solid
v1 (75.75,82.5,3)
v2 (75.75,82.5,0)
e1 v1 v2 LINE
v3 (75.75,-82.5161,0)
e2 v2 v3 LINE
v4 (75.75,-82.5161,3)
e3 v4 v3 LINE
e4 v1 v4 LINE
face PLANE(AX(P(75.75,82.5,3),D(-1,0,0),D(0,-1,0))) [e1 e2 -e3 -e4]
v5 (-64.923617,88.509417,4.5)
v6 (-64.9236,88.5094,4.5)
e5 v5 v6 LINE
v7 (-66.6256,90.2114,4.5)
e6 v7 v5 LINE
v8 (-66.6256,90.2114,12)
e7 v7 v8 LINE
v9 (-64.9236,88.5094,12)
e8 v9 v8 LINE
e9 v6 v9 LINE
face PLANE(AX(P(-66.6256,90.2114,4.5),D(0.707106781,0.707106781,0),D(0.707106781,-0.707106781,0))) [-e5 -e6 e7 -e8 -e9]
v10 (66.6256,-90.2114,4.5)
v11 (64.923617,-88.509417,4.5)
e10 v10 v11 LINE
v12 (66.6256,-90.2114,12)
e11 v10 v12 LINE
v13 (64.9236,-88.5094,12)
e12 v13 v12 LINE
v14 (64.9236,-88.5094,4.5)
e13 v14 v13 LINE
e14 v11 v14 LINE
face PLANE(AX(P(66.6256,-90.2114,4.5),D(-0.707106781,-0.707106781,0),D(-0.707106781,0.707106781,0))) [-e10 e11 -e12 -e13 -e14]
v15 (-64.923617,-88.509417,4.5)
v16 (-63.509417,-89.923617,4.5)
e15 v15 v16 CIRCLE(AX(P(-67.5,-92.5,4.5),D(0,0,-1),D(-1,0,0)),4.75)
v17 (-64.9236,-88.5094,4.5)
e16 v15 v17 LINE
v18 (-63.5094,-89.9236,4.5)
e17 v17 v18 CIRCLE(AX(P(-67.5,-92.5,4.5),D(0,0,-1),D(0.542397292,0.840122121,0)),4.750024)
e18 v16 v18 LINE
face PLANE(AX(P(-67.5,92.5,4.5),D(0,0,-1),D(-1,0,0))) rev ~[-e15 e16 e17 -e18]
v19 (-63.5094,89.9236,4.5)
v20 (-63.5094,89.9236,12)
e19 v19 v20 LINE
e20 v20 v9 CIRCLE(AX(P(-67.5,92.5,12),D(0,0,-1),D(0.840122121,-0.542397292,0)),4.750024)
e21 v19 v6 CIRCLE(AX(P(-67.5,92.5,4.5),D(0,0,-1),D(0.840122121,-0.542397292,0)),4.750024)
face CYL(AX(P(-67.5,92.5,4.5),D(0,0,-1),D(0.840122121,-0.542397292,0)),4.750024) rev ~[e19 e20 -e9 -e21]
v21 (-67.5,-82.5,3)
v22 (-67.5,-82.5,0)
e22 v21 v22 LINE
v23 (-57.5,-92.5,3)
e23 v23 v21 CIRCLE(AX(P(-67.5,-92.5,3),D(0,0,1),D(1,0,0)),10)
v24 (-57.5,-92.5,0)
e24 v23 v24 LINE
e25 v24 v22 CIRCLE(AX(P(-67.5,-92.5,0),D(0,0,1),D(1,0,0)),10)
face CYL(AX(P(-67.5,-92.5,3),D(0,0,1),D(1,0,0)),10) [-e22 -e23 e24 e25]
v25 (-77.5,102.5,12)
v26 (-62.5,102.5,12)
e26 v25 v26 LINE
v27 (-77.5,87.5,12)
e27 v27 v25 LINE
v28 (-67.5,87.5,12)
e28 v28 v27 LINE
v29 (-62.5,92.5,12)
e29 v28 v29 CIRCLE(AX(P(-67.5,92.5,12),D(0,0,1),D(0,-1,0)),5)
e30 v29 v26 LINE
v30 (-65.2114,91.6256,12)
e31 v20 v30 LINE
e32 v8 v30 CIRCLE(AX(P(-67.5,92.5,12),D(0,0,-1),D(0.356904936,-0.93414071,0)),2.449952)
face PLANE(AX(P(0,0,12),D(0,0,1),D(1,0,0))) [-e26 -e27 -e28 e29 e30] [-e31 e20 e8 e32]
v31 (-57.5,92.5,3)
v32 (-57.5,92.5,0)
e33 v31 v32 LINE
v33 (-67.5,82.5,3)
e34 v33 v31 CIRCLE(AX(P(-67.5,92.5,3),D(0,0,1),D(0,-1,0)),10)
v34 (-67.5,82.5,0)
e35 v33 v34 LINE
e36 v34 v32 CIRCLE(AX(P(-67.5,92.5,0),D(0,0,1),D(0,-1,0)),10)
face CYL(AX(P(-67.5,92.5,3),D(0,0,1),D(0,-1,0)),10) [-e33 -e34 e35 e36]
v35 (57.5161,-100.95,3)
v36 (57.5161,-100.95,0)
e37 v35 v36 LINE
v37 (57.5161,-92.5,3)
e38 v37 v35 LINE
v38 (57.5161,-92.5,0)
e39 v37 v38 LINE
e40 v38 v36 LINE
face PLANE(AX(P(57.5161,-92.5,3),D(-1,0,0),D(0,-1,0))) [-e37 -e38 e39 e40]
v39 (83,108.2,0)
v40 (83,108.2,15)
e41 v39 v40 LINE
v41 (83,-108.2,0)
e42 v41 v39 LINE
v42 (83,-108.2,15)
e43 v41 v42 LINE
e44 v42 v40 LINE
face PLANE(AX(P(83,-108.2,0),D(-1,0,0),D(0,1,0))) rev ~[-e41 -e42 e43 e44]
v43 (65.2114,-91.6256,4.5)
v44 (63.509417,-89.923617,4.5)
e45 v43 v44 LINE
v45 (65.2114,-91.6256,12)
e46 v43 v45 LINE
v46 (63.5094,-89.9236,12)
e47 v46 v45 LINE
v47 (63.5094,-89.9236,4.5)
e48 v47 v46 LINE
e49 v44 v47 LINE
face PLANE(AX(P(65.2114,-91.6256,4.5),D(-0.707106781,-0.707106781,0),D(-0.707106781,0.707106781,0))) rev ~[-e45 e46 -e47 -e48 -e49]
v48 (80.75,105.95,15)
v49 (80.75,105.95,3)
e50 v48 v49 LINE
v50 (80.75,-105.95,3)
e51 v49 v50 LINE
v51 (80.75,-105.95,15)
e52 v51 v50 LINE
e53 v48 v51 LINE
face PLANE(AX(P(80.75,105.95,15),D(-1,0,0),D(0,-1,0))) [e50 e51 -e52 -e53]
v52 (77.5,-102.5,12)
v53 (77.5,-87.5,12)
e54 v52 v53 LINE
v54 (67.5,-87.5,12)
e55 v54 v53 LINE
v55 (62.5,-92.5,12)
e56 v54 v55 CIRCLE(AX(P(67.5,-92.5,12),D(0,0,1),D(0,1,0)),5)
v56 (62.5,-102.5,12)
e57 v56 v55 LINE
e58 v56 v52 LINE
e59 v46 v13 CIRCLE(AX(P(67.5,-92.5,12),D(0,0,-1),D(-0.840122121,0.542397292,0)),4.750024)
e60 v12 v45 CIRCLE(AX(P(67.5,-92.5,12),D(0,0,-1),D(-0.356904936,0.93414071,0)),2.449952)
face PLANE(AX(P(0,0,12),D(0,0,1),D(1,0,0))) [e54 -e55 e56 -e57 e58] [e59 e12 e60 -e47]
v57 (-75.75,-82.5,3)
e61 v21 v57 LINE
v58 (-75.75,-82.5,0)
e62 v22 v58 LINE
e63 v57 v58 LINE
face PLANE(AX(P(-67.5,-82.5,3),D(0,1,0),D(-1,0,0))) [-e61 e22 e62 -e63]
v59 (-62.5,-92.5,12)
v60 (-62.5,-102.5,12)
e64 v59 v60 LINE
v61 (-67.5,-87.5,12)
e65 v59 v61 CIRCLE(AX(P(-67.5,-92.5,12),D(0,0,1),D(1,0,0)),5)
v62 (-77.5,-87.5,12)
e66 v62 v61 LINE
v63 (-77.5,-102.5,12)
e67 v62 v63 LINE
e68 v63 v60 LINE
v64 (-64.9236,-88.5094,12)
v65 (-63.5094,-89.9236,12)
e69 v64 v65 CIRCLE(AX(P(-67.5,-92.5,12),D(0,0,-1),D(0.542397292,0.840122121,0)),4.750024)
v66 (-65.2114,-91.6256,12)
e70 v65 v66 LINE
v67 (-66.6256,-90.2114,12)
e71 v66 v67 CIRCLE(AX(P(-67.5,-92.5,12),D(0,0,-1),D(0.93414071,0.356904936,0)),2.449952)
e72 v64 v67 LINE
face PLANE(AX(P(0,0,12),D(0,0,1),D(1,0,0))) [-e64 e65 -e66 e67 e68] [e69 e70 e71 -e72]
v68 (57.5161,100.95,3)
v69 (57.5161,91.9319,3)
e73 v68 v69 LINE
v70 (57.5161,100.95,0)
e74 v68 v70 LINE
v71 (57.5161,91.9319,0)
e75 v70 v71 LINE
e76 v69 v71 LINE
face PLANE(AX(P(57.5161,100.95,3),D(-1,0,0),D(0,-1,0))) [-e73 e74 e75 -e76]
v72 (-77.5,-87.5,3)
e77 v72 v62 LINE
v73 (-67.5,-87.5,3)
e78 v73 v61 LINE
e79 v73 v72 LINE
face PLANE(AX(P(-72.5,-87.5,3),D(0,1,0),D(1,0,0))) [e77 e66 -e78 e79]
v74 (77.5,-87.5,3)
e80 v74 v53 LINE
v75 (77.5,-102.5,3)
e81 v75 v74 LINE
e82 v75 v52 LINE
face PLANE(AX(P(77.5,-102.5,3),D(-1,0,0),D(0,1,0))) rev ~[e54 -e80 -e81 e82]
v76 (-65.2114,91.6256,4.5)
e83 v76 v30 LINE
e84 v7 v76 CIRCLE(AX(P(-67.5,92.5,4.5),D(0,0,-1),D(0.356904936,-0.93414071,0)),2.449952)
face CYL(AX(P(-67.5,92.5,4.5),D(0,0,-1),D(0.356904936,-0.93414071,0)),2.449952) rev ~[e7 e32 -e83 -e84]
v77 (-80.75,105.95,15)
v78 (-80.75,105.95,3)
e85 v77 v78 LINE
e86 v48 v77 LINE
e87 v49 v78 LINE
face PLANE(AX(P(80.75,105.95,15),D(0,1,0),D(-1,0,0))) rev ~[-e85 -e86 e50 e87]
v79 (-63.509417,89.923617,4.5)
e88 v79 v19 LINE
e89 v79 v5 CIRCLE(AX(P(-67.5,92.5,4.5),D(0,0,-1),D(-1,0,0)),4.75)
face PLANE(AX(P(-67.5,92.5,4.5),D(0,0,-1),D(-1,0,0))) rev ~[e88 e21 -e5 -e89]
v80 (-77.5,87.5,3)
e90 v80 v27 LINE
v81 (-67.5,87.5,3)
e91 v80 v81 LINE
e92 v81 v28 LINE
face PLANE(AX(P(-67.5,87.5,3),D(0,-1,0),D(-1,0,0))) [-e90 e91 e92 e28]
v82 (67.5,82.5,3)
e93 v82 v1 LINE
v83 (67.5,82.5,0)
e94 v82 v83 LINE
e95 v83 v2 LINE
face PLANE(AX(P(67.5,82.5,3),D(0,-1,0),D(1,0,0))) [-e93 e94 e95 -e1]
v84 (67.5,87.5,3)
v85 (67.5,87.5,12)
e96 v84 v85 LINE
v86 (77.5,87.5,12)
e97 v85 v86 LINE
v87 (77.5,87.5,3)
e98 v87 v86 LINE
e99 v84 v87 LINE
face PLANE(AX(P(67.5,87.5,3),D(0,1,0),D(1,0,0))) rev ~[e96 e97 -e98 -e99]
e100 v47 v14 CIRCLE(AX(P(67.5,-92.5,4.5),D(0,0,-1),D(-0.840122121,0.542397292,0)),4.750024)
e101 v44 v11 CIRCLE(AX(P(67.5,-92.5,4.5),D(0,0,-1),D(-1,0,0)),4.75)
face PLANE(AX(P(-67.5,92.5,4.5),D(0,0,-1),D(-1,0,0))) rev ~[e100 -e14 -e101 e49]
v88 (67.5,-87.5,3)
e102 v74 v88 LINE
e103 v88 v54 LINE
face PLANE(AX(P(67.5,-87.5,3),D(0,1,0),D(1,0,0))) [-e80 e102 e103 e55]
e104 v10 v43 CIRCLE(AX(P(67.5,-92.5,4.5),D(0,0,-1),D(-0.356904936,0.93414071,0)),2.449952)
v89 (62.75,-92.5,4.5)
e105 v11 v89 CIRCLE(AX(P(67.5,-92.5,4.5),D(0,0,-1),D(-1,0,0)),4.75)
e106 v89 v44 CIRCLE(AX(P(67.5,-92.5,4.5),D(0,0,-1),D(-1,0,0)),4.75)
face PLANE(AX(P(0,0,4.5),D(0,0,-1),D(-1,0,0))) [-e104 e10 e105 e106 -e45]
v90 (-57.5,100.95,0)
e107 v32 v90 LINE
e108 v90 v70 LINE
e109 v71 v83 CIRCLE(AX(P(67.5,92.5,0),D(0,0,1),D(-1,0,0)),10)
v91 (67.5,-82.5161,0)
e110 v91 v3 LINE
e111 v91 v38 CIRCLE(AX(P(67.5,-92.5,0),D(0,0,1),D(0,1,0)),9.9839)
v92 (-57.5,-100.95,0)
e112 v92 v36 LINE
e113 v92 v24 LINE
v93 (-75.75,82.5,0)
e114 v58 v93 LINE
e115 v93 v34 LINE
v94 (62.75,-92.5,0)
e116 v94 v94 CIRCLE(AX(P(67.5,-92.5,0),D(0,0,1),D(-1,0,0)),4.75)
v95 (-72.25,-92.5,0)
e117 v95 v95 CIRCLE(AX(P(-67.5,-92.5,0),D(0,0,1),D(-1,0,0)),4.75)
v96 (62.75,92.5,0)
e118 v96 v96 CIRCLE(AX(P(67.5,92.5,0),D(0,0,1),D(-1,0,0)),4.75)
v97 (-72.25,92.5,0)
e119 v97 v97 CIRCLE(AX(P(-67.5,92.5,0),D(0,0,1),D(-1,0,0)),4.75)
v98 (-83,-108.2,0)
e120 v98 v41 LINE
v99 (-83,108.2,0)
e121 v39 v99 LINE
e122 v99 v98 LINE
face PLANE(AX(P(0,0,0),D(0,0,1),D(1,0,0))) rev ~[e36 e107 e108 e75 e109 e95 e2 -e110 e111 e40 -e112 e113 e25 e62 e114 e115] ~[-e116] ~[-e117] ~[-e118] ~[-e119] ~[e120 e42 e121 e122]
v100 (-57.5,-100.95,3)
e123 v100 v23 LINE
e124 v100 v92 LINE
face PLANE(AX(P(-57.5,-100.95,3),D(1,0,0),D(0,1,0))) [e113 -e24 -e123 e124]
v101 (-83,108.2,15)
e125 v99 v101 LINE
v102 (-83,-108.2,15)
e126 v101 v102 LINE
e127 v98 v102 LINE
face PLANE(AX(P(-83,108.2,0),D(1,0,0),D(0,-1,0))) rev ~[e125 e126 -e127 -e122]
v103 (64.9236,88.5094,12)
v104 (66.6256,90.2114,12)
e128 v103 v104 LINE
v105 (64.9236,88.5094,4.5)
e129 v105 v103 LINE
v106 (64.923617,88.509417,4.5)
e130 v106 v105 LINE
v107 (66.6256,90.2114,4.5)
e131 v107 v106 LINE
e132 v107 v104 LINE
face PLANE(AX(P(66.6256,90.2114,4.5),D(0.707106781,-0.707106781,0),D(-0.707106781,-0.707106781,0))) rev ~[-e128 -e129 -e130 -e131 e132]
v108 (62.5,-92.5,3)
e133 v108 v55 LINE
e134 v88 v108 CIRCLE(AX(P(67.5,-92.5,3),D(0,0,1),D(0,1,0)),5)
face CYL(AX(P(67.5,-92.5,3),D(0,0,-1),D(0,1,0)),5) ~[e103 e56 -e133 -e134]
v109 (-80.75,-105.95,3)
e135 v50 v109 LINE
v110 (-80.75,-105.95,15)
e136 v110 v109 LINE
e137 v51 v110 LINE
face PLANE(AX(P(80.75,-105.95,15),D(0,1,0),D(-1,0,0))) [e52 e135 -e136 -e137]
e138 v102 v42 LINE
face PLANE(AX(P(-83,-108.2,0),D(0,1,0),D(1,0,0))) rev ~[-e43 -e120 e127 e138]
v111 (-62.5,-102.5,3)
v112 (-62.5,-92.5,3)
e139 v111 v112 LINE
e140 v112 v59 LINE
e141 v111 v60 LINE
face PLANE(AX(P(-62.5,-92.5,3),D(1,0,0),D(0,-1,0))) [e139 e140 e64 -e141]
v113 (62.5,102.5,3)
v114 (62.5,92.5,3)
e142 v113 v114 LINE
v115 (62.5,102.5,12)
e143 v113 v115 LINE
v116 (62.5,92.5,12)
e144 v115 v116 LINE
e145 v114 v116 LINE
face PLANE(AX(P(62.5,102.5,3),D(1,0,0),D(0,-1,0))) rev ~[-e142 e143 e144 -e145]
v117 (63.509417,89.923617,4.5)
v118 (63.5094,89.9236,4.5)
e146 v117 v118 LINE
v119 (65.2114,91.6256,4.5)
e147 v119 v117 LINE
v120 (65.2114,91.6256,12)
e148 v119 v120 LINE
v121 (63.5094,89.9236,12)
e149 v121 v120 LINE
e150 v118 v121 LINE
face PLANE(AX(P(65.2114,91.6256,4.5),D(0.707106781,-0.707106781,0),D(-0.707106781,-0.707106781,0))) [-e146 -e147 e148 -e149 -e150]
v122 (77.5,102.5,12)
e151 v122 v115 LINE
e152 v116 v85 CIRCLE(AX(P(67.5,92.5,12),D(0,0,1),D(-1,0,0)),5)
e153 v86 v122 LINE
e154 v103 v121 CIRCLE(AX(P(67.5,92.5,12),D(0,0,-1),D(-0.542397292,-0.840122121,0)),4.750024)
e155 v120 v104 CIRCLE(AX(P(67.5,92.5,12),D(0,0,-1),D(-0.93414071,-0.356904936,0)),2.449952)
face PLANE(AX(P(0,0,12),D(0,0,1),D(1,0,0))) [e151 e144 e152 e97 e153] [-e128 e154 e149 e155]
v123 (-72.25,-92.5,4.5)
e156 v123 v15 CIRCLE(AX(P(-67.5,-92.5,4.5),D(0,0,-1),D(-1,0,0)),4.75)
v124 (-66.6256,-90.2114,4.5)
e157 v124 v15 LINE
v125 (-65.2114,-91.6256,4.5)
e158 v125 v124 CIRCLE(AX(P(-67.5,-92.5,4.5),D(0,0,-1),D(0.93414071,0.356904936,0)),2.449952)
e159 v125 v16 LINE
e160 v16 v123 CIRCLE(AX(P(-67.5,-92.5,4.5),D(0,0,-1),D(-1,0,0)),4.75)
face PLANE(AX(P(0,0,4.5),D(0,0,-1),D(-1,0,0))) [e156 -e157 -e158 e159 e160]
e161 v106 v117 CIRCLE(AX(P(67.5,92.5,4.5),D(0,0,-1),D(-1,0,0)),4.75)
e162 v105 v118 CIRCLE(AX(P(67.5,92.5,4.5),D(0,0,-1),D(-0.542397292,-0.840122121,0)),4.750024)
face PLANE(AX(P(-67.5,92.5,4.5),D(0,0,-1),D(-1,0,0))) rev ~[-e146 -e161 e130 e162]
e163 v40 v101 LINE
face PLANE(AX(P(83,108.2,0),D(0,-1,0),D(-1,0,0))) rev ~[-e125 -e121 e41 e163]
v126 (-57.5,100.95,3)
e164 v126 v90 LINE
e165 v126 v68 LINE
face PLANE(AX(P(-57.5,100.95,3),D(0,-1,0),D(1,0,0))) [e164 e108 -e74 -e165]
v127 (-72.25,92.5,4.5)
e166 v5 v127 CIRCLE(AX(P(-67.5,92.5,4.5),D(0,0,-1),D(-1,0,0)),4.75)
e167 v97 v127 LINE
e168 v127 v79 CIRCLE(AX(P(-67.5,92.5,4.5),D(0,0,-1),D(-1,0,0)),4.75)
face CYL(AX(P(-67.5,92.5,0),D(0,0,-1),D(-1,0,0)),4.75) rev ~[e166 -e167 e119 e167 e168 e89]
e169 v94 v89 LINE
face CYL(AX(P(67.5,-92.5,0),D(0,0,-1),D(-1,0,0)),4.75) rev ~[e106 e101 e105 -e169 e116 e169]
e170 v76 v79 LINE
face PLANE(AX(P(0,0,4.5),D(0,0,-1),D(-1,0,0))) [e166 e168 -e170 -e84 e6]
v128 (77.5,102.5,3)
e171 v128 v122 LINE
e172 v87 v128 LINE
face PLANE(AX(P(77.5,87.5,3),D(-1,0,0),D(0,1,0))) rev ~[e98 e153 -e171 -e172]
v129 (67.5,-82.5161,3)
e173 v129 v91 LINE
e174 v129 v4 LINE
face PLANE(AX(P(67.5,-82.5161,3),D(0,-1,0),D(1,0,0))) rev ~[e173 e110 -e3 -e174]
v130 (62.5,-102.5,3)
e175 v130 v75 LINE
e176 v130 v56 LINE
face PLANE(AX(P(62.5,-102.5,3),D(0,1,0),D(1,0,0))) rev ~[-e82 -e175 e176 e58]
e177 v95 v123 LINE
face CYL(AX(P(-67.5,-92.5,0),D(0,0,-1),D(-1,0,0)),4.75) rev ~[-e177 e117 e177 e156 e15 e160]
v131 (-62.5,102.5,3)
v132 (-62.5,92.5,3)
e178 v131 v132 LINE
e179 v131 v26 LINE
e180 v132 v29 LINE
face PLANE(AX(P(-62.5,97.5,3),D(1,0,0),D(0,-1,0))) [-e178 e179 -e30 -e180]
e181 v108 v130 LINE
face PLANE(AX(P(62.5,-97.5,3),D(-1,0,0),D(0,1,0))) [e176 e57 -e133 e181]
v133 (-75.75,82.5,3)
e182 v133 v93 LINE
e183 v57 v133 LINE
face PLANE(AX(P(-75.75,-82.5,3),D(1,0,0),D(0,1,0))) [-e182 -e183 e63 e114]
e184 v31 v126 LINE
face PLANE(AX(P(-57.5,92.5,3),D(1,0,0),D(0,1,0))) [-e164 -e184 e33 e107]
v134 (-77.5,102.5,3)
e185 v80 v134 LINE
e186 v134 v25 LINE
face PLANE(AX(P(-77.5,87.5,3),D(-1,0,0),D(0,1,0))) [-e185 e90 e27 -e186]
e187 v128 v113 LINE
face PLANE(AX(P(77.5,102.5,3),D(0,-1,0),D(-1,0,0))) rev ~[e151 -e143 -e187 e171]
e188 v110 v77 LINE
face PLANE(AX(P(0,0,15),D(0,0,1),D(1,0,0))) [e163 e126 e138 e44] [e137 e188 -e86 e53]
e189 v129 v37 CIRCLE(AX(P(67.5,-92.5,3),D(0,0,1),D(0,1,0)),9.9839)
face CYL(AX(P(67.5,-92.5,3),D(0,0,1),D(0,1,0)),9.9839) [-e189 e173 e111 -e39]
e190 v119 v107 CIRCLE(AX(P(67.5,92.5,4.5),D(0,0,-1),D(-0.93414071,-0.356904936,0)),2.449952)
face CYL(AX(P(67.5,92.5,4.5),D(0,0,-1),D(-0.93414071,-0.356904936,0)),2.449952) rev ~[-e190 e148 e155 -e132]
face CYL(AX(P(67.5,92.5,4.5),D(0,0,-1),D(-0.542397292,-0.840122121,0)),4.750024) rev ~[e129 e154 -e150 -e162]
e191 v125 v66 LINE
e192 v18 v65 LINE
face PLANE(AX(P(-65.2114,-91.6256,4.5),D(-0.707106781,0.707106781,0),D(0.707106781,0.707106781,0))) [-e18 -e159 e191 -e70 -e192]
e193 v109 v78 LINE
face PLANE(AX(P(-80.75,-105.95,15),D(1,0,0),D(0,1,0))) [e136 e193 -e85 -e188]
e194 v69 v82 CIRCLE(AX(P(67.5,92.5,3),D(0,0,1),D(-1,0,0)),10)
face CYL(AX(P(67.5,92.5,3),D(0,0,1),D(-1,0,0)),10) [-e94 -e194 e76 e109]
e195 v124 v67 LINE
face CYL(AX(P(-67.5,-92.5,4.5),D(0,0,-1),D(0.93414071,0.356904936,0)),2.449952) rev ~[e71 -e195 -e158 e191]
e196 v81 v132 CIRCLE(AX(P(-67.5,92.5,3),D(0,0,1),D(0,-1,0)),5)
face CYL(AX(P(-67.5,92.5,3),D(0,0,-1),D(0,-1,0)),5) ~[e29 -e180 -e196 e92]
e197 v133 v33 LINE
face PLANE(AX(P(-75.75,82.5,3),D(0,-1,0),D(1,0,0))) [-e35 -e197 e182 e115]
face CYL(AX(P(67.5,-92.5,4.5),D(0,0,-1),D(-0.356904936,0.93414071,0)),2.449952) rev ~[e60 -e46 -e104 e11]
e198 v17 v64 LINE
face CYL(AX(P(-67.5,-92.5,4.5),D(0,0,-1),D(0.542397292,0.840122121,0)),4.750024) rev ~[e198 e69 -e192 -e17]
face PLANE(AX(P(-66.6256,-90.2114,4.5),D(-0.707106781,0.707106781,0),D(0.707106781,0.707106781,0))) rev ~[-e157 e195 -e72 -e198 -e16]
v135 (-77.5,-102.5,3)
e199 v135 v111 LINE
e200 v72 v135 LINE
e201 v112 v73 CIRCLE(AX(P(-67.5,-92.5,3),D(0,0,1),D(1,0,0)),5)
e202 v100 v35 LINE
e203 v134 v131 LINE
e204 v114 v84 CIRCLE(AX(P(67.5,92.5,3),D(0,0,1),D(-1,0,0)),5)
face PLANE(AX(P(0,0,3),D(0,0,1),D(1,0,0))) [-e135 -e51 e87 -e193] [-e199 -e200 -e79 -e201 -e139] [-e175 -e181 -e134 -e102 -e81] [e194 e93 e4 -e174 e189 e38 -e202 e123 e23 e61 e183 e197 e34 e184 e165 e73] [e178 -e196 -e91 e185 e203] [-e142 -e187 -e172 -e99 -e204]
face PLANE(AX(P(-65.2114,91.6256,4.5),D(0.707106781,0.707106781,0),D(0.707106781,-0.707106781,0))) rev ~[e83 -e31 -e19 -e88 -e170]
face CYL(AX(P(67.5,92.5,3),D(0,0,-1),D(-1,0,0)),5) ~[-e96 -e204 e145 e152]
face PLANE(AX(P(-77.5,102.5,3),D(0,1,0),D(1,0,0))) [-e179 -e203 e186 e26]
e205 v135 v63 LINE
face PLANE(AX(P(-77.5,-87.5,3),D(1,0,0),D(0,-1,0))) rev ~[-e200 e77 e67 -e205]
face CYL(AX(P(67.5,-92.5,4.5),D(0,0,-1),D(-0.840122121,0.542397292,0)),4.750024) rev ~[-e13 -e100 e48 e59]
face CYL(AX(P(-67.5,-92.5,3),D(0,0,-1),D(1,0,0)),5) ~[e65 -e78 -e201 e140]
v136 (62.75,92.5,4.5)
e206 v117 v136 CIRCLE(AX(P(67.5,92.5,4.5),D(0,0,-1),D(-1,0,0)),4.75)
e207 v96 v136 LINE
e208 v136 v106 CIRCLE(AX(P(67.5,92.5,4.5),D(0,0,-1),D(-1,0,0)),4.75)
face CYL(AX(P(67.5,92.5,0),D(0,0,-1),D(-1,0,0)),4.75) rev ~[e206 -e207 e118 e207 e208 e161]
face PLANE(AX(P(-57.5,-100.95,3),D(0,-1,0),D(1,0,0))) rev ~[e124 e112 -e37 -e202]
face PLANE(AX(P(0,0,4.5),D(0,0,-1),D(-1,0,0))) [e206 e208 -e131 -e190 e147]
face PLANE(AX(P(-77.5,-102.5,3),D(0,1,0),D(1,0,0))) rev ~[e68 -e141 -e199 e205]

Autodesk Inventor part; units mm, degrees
ref_plane "YZ Plane" through (0, 0, 0) normal (1, 0, 0) x (0, 1, 0)
ref_plane "XZ Plane" through (0, 0, 0) normal (0, 1, 0) x (-1, 0, 0)
ref_plane "XY Plane" through (0, 0, 0) normal (0, 0, 1) x (1, 0, 0)
sketch "Boceto1" plane through (0, 0, 0) normal (0, 0, 1) x (1, 0, 0)
  line L0 (-83, -108.2) -> (83, -108.2)
  line L1 (83, -108.2) -> (83, 108.2)
  line L2 (83, 108.2) -> (-83, 108.2)
  line L3 (-83, 108.2) -> (-83, -108.2)
  line L4 (-83, -108.2) -> (83, 108.2) construction
  line L5 (83, -108.2) -> (-83, 108.2) construction
  point P0 (0, 0)
  dimension "d0" = 166
  dimension "d1" = 216.4
extrude "Extrusión1" add sketch "Boceto1" along normal blind 15
sketch "Boceto2" plane through (0, 0, 15) normal (0, 0, 1) x (1, 0, 0)
  line L0 (80.75, -105.95) -> (-80.75, -105.95)
  line L1 (-80.75, -105.95) -> (-80.75, 105.95)
  line L2 (80.75, 105.95) -> (-80.75, 105.95)
  line L3 (80.75, 105.95) -> (80.75, -105.95)
  line L4 (-83, 108.2) -> (83, 108.2)
  line L5 (83, 108.2) -> (83, -108.2)
  line L6 (83, -108.2) -> (-83, -108.2)
  line L7 (-83, -108.2) -> (-83, 108.2)
  point P0 (0, 0)
extrude "Extrusión2" cut sketch "Boceto2" against normal blind 12 contours L0 L1 L2 L3
sketch "Boceto3" plane through (0, 0, 3) normal (0, 0, 1) x (1, 0, 0)
  line L0 (-67.5, -92.5) -> (67.5, -92.5)
  line L1 (67.5, -92.5) -> (67.5, 92.5)
  line L2 (67.5, 92.5) -> (-67.5, 92.5)
  line L3 (-67.5, 92.5) -> (-67.5, -92.5)
  line L4 (-67.5, 87.5) -> (-72.5, 87.5)
  line L5 (-62.5, 97.5) -> (-62.5, 92.5)
  line L6 (62.5, -97.5) -> (62.5, -92.5)
  line L7 (67.5, -87.5) -> (72.5, -87.5)
  line L8 (-72.5, -87.5) -> (-67.5, -87.5)
  line L9 (-62.5, -92.5) -> (-62.5, -97.5)
  line L10 (-72.5, 87.5) -> (-77.5, 87.5)
  line L11 (-77.5, 87.5) -> (-77.5, 102.5)
  line L12 (-77.5, 102.5) -> (-62.5, 102.5)
  line L13 (-62.5, 102.5) -> (-62.5, 97.5)
  line L14 (77.5, 87.5) -> (77.5, 102.5)
  line L15 (77.5, 102.5) -> (62.5, 102.5)
  line L16 (67.5, -87.5) -> (77.5, -87.5)
  line L17 (62.5, -92.5) -> (62.5, -102.5)
  line L18 (62.5, -102.5) -> (77.5, -102.5)
  line L19 (77.5, -102.5) -> (77.5, -87.5)
  line L20 (-67.5, -87.5) -> (-77.5, -87.5)
  line L21 (-77.5, -87.5) -> (-77.5, -102.5)
  line L22 (-77.5, -102.5) -> (-62.5, -102.5)
  line L23 (-62.5, -102.5) -> (-62.5, -97.5)
  line L24 (67.5, 87.5) -> (77.5, 87.5)
  line L25 (62.5, 102.5) -> (62.5, 92.5)
  arc A0 (-62.5, -92.5) -> (-67.5, -87.5) centre (-67.5, -92.5) ccw
  arc A1 (-67.5, 87.5) -> (-62.5, 92.5) centre (-67.5, 92.5) ccw
  arc A2 (62.5, 92.5) -> (67.5, 87.5) centre (67.5, 92.5) ccw
  arc A3 (67.5, -87.5) -> (62.5, -92.5) centre (67.5, -92.5) ccw
  point P0 (0, 0)
  dimension "d12" = 135
  dimension "d13" = 185
  dimension "d56" = 5
  dimension "d57" = 15
  dimension "d58" = 15
extrude "Extrusión3" add sketch "Boceto3" along normal blind 9 contours L3 A0 L0 | L0 L9 L23 L22 L21 L20 L8 L3 | A3 L1 L0 | L0 L1 L7 L16 L19 L18 L17 L6 | L4 L10 L11 L12 L13 L5 L2 L3 | L3 L2 A1 | A2 L2 L1 | L1 L2 L25 L15 L14 L24
sketch "Boceto4" plane through (0, 0, 0) normal (0, 0, -1) x (-1, 0, 0)
  line L0 (80.75, -105.95) -> (80.75, 105.95) projected
  line L1 (-80.75, -105.95) -> (80.75, -105.95) projected
  line L2 (-80.75, 105.95) -> (-80.75, -105.95) projected
  line L3 (80.75, 105.95) -> (-80.75, 105.95) projected
  line L4 (-67.5, -92.5) -> (-67.5, 92.5) projected
  line L5 (67.5, 92.5) -> (67.5, -92.5) projected
  line L6 (-67.5, 92.5) -> (67.5, 92.5) projected
  line L7 (67.5, -92.5) -> (-67.5, -92.5) projected
  circle A0 centre (-67.5, 92.5) radius 4.75
  circle A1 centre (67.5, 92.5) radius 4.75
  circle A2 centre (67.5, -92.5) radius 4.75
  circle A3 centre (-67.5, -92.5) radius 4.75
  point P0 (0, 0)
  dimension "d24" = 9.5
  dimension "d25" = 9.5
  dimension "d26" = 9.5
  dimension "d27" = 9.5
extrude "Extrusión4" cut sketch "Boceto4" against normal blind 4.5 contours L7 A3 L4 | L4 A3 L7 | A0 L6 L4 | L4 L6 A0 | A2 L5 L7 | L7 L5 A2 | A1 L5 L6 | L6 L5 A1
sketch "Boceto7" plane through (-67.5, 92.5, 4.5) normal (0, 0, -1) x (-1, 0, 0)
  arc A0 (-0.8744, -2.2886) -> (-2.2886, -0.8744) centre (0, 0) ccw
  line L0 (0, 0) -> (4.75, 0) construction
  line L1 (-2.2886, -0.8744) -> (-3.9906, -2.5764)
  line L2 (-0.8744, -2.2886) -> (-2.5764, -3.9906)
  arc A1 (-3.9906, -2.5764) -> (-2.5764, -3.9906) centre (0, 0) ccw
  arc A2 (-132.7114, -0.8744) -> (-134.1256, -2.2886) centre (-135, 0) ccw
  line L3 (-134.1256, -2.2886) -> (-132.4236, -3.9906)
  line L4 (-132.7114, -0.8744) -> (-131.0094, -2.5764)
  arc A3 (-132.4236, -3.9906) -> (-131.0094, -2.5764) centre (-135, 0) ccw
  arc A4 (-134.1256, -182.7114) -> (-132.7114, -184.1256) centre (-135, -185) ccw
  line L5 (-132.7114, -184.1256) -> (-131.0094, -182.4236)
  line L6 (-134.1256, -182.7114) -> (-132.4236, -181.0094)
  arc A5 (-131.0094, -182.4236) -> (-132.4236, -181.0094) centre (-135, -185) ccw
  arc A6 (-2.2886, -184.1256) -> (-0.8744, -182.7114) centre (0, -185) ccw
  line L7 (-0.8744, -182.7114) -> (-2.5764, -181.0094)
  line L8 (-2.2886, -184.1256) -> (-3.9906, -182.4236)
  arc A7 (-2.5764, -181.0094) -> (-3.9906, -182.4236) centre (0, -185) ccw
  point P0 (-67.5, -92.5)
extrude "Extrusión7" cut sketch "Boceto7" against normal blind 10
sketch "Boceto8" plane through (0, 0, 3) normal (0, 0, 1) x (1, 0, 0)
  line L0 (80.75, -105.95) -> (-80.75, -105.95) projected
  line L1 (-62.5, -105.95) -> (-57.5, -105.95)
  line L2 (-57.5, -100.95) -> (57.5161, -100.95)
  line L3 (67.5, -87.5) -> (77.5, -87.5) projected
  line L4 (57.5161, -92.5) -> (57.5161, -100.95)
  line L5 (-57.5, -100.95) -> (-57.5, -92.5)
  line L6 (-67.5, -82.5) -> (-75.75, -82.5)
  line L7 (-77.5, 87.5) -> (-67.5, 87.5) projected
  line L8 (-62.5, 92.5) -> (-62.5, 102.5) projected
  line L9 (-80.75, 105.95) -> (80.75, 105.95) projected
  line L10 (-75.75, 82.5) -> (-67.5, 82.5)
  line L11 (-57.5, 92.5) -> (-57.5, 100.95)
  line L12 (-75.75, -82.5) -> (-75.75, 82.5)
  line L13 (-57.5, 100.95) -> (57.5161, 100.95)
  line L14 (57.5161, 100.95) -> (57.5161, 91.9319)
  line L15 (67.5, 82.5) -> (75.75, 82.5)
  line L16 (75.75, 82.5) -> (75.75, -82.5161)
  arc A0 (65.2114, -91.6256) -> (66.6256, -90.2114) centre (67.5, -92.5) ccw projected
  line L17 (67.5, -82.5161) -> (75.75, -82.5161)
  arc A1 (-66.6256, -90.2114) -> (-65.2114, -91.6256) centre (-67.5, -92.5) ccw projected
  arc A2 (-57.5, -92.5) -> (-67.5, -82.5) centre (-67.5, -92.5) ccw
  arc A3 (-65.2114, 91.6256) -> (-66.6256, 90.2114) centre (-67.5, 92.5) ccw projected
  arc A4 (-67.5, 82.5) -> (-57.5, 92.5) centre (-67.5, 92.5) ccw
  arc A5 (67.5, -82.5161) -> (57.5161, -92.5) centre (67.5, -92.5) ccw
  arc A6 (66.6256, 90.2114) -> (65.2114, 91.6256) centre (67.5, 92.5) ccw projected
  arc A7 (57.5, 92.5) -> (67.5, 82.5) centre (67.5, 92.5) ccw
  point P0 (0, 0)
extrude "Extrusión8" cut sketch "Boceto8" against normal blind 10
properties part number "TestTapa_v1"
